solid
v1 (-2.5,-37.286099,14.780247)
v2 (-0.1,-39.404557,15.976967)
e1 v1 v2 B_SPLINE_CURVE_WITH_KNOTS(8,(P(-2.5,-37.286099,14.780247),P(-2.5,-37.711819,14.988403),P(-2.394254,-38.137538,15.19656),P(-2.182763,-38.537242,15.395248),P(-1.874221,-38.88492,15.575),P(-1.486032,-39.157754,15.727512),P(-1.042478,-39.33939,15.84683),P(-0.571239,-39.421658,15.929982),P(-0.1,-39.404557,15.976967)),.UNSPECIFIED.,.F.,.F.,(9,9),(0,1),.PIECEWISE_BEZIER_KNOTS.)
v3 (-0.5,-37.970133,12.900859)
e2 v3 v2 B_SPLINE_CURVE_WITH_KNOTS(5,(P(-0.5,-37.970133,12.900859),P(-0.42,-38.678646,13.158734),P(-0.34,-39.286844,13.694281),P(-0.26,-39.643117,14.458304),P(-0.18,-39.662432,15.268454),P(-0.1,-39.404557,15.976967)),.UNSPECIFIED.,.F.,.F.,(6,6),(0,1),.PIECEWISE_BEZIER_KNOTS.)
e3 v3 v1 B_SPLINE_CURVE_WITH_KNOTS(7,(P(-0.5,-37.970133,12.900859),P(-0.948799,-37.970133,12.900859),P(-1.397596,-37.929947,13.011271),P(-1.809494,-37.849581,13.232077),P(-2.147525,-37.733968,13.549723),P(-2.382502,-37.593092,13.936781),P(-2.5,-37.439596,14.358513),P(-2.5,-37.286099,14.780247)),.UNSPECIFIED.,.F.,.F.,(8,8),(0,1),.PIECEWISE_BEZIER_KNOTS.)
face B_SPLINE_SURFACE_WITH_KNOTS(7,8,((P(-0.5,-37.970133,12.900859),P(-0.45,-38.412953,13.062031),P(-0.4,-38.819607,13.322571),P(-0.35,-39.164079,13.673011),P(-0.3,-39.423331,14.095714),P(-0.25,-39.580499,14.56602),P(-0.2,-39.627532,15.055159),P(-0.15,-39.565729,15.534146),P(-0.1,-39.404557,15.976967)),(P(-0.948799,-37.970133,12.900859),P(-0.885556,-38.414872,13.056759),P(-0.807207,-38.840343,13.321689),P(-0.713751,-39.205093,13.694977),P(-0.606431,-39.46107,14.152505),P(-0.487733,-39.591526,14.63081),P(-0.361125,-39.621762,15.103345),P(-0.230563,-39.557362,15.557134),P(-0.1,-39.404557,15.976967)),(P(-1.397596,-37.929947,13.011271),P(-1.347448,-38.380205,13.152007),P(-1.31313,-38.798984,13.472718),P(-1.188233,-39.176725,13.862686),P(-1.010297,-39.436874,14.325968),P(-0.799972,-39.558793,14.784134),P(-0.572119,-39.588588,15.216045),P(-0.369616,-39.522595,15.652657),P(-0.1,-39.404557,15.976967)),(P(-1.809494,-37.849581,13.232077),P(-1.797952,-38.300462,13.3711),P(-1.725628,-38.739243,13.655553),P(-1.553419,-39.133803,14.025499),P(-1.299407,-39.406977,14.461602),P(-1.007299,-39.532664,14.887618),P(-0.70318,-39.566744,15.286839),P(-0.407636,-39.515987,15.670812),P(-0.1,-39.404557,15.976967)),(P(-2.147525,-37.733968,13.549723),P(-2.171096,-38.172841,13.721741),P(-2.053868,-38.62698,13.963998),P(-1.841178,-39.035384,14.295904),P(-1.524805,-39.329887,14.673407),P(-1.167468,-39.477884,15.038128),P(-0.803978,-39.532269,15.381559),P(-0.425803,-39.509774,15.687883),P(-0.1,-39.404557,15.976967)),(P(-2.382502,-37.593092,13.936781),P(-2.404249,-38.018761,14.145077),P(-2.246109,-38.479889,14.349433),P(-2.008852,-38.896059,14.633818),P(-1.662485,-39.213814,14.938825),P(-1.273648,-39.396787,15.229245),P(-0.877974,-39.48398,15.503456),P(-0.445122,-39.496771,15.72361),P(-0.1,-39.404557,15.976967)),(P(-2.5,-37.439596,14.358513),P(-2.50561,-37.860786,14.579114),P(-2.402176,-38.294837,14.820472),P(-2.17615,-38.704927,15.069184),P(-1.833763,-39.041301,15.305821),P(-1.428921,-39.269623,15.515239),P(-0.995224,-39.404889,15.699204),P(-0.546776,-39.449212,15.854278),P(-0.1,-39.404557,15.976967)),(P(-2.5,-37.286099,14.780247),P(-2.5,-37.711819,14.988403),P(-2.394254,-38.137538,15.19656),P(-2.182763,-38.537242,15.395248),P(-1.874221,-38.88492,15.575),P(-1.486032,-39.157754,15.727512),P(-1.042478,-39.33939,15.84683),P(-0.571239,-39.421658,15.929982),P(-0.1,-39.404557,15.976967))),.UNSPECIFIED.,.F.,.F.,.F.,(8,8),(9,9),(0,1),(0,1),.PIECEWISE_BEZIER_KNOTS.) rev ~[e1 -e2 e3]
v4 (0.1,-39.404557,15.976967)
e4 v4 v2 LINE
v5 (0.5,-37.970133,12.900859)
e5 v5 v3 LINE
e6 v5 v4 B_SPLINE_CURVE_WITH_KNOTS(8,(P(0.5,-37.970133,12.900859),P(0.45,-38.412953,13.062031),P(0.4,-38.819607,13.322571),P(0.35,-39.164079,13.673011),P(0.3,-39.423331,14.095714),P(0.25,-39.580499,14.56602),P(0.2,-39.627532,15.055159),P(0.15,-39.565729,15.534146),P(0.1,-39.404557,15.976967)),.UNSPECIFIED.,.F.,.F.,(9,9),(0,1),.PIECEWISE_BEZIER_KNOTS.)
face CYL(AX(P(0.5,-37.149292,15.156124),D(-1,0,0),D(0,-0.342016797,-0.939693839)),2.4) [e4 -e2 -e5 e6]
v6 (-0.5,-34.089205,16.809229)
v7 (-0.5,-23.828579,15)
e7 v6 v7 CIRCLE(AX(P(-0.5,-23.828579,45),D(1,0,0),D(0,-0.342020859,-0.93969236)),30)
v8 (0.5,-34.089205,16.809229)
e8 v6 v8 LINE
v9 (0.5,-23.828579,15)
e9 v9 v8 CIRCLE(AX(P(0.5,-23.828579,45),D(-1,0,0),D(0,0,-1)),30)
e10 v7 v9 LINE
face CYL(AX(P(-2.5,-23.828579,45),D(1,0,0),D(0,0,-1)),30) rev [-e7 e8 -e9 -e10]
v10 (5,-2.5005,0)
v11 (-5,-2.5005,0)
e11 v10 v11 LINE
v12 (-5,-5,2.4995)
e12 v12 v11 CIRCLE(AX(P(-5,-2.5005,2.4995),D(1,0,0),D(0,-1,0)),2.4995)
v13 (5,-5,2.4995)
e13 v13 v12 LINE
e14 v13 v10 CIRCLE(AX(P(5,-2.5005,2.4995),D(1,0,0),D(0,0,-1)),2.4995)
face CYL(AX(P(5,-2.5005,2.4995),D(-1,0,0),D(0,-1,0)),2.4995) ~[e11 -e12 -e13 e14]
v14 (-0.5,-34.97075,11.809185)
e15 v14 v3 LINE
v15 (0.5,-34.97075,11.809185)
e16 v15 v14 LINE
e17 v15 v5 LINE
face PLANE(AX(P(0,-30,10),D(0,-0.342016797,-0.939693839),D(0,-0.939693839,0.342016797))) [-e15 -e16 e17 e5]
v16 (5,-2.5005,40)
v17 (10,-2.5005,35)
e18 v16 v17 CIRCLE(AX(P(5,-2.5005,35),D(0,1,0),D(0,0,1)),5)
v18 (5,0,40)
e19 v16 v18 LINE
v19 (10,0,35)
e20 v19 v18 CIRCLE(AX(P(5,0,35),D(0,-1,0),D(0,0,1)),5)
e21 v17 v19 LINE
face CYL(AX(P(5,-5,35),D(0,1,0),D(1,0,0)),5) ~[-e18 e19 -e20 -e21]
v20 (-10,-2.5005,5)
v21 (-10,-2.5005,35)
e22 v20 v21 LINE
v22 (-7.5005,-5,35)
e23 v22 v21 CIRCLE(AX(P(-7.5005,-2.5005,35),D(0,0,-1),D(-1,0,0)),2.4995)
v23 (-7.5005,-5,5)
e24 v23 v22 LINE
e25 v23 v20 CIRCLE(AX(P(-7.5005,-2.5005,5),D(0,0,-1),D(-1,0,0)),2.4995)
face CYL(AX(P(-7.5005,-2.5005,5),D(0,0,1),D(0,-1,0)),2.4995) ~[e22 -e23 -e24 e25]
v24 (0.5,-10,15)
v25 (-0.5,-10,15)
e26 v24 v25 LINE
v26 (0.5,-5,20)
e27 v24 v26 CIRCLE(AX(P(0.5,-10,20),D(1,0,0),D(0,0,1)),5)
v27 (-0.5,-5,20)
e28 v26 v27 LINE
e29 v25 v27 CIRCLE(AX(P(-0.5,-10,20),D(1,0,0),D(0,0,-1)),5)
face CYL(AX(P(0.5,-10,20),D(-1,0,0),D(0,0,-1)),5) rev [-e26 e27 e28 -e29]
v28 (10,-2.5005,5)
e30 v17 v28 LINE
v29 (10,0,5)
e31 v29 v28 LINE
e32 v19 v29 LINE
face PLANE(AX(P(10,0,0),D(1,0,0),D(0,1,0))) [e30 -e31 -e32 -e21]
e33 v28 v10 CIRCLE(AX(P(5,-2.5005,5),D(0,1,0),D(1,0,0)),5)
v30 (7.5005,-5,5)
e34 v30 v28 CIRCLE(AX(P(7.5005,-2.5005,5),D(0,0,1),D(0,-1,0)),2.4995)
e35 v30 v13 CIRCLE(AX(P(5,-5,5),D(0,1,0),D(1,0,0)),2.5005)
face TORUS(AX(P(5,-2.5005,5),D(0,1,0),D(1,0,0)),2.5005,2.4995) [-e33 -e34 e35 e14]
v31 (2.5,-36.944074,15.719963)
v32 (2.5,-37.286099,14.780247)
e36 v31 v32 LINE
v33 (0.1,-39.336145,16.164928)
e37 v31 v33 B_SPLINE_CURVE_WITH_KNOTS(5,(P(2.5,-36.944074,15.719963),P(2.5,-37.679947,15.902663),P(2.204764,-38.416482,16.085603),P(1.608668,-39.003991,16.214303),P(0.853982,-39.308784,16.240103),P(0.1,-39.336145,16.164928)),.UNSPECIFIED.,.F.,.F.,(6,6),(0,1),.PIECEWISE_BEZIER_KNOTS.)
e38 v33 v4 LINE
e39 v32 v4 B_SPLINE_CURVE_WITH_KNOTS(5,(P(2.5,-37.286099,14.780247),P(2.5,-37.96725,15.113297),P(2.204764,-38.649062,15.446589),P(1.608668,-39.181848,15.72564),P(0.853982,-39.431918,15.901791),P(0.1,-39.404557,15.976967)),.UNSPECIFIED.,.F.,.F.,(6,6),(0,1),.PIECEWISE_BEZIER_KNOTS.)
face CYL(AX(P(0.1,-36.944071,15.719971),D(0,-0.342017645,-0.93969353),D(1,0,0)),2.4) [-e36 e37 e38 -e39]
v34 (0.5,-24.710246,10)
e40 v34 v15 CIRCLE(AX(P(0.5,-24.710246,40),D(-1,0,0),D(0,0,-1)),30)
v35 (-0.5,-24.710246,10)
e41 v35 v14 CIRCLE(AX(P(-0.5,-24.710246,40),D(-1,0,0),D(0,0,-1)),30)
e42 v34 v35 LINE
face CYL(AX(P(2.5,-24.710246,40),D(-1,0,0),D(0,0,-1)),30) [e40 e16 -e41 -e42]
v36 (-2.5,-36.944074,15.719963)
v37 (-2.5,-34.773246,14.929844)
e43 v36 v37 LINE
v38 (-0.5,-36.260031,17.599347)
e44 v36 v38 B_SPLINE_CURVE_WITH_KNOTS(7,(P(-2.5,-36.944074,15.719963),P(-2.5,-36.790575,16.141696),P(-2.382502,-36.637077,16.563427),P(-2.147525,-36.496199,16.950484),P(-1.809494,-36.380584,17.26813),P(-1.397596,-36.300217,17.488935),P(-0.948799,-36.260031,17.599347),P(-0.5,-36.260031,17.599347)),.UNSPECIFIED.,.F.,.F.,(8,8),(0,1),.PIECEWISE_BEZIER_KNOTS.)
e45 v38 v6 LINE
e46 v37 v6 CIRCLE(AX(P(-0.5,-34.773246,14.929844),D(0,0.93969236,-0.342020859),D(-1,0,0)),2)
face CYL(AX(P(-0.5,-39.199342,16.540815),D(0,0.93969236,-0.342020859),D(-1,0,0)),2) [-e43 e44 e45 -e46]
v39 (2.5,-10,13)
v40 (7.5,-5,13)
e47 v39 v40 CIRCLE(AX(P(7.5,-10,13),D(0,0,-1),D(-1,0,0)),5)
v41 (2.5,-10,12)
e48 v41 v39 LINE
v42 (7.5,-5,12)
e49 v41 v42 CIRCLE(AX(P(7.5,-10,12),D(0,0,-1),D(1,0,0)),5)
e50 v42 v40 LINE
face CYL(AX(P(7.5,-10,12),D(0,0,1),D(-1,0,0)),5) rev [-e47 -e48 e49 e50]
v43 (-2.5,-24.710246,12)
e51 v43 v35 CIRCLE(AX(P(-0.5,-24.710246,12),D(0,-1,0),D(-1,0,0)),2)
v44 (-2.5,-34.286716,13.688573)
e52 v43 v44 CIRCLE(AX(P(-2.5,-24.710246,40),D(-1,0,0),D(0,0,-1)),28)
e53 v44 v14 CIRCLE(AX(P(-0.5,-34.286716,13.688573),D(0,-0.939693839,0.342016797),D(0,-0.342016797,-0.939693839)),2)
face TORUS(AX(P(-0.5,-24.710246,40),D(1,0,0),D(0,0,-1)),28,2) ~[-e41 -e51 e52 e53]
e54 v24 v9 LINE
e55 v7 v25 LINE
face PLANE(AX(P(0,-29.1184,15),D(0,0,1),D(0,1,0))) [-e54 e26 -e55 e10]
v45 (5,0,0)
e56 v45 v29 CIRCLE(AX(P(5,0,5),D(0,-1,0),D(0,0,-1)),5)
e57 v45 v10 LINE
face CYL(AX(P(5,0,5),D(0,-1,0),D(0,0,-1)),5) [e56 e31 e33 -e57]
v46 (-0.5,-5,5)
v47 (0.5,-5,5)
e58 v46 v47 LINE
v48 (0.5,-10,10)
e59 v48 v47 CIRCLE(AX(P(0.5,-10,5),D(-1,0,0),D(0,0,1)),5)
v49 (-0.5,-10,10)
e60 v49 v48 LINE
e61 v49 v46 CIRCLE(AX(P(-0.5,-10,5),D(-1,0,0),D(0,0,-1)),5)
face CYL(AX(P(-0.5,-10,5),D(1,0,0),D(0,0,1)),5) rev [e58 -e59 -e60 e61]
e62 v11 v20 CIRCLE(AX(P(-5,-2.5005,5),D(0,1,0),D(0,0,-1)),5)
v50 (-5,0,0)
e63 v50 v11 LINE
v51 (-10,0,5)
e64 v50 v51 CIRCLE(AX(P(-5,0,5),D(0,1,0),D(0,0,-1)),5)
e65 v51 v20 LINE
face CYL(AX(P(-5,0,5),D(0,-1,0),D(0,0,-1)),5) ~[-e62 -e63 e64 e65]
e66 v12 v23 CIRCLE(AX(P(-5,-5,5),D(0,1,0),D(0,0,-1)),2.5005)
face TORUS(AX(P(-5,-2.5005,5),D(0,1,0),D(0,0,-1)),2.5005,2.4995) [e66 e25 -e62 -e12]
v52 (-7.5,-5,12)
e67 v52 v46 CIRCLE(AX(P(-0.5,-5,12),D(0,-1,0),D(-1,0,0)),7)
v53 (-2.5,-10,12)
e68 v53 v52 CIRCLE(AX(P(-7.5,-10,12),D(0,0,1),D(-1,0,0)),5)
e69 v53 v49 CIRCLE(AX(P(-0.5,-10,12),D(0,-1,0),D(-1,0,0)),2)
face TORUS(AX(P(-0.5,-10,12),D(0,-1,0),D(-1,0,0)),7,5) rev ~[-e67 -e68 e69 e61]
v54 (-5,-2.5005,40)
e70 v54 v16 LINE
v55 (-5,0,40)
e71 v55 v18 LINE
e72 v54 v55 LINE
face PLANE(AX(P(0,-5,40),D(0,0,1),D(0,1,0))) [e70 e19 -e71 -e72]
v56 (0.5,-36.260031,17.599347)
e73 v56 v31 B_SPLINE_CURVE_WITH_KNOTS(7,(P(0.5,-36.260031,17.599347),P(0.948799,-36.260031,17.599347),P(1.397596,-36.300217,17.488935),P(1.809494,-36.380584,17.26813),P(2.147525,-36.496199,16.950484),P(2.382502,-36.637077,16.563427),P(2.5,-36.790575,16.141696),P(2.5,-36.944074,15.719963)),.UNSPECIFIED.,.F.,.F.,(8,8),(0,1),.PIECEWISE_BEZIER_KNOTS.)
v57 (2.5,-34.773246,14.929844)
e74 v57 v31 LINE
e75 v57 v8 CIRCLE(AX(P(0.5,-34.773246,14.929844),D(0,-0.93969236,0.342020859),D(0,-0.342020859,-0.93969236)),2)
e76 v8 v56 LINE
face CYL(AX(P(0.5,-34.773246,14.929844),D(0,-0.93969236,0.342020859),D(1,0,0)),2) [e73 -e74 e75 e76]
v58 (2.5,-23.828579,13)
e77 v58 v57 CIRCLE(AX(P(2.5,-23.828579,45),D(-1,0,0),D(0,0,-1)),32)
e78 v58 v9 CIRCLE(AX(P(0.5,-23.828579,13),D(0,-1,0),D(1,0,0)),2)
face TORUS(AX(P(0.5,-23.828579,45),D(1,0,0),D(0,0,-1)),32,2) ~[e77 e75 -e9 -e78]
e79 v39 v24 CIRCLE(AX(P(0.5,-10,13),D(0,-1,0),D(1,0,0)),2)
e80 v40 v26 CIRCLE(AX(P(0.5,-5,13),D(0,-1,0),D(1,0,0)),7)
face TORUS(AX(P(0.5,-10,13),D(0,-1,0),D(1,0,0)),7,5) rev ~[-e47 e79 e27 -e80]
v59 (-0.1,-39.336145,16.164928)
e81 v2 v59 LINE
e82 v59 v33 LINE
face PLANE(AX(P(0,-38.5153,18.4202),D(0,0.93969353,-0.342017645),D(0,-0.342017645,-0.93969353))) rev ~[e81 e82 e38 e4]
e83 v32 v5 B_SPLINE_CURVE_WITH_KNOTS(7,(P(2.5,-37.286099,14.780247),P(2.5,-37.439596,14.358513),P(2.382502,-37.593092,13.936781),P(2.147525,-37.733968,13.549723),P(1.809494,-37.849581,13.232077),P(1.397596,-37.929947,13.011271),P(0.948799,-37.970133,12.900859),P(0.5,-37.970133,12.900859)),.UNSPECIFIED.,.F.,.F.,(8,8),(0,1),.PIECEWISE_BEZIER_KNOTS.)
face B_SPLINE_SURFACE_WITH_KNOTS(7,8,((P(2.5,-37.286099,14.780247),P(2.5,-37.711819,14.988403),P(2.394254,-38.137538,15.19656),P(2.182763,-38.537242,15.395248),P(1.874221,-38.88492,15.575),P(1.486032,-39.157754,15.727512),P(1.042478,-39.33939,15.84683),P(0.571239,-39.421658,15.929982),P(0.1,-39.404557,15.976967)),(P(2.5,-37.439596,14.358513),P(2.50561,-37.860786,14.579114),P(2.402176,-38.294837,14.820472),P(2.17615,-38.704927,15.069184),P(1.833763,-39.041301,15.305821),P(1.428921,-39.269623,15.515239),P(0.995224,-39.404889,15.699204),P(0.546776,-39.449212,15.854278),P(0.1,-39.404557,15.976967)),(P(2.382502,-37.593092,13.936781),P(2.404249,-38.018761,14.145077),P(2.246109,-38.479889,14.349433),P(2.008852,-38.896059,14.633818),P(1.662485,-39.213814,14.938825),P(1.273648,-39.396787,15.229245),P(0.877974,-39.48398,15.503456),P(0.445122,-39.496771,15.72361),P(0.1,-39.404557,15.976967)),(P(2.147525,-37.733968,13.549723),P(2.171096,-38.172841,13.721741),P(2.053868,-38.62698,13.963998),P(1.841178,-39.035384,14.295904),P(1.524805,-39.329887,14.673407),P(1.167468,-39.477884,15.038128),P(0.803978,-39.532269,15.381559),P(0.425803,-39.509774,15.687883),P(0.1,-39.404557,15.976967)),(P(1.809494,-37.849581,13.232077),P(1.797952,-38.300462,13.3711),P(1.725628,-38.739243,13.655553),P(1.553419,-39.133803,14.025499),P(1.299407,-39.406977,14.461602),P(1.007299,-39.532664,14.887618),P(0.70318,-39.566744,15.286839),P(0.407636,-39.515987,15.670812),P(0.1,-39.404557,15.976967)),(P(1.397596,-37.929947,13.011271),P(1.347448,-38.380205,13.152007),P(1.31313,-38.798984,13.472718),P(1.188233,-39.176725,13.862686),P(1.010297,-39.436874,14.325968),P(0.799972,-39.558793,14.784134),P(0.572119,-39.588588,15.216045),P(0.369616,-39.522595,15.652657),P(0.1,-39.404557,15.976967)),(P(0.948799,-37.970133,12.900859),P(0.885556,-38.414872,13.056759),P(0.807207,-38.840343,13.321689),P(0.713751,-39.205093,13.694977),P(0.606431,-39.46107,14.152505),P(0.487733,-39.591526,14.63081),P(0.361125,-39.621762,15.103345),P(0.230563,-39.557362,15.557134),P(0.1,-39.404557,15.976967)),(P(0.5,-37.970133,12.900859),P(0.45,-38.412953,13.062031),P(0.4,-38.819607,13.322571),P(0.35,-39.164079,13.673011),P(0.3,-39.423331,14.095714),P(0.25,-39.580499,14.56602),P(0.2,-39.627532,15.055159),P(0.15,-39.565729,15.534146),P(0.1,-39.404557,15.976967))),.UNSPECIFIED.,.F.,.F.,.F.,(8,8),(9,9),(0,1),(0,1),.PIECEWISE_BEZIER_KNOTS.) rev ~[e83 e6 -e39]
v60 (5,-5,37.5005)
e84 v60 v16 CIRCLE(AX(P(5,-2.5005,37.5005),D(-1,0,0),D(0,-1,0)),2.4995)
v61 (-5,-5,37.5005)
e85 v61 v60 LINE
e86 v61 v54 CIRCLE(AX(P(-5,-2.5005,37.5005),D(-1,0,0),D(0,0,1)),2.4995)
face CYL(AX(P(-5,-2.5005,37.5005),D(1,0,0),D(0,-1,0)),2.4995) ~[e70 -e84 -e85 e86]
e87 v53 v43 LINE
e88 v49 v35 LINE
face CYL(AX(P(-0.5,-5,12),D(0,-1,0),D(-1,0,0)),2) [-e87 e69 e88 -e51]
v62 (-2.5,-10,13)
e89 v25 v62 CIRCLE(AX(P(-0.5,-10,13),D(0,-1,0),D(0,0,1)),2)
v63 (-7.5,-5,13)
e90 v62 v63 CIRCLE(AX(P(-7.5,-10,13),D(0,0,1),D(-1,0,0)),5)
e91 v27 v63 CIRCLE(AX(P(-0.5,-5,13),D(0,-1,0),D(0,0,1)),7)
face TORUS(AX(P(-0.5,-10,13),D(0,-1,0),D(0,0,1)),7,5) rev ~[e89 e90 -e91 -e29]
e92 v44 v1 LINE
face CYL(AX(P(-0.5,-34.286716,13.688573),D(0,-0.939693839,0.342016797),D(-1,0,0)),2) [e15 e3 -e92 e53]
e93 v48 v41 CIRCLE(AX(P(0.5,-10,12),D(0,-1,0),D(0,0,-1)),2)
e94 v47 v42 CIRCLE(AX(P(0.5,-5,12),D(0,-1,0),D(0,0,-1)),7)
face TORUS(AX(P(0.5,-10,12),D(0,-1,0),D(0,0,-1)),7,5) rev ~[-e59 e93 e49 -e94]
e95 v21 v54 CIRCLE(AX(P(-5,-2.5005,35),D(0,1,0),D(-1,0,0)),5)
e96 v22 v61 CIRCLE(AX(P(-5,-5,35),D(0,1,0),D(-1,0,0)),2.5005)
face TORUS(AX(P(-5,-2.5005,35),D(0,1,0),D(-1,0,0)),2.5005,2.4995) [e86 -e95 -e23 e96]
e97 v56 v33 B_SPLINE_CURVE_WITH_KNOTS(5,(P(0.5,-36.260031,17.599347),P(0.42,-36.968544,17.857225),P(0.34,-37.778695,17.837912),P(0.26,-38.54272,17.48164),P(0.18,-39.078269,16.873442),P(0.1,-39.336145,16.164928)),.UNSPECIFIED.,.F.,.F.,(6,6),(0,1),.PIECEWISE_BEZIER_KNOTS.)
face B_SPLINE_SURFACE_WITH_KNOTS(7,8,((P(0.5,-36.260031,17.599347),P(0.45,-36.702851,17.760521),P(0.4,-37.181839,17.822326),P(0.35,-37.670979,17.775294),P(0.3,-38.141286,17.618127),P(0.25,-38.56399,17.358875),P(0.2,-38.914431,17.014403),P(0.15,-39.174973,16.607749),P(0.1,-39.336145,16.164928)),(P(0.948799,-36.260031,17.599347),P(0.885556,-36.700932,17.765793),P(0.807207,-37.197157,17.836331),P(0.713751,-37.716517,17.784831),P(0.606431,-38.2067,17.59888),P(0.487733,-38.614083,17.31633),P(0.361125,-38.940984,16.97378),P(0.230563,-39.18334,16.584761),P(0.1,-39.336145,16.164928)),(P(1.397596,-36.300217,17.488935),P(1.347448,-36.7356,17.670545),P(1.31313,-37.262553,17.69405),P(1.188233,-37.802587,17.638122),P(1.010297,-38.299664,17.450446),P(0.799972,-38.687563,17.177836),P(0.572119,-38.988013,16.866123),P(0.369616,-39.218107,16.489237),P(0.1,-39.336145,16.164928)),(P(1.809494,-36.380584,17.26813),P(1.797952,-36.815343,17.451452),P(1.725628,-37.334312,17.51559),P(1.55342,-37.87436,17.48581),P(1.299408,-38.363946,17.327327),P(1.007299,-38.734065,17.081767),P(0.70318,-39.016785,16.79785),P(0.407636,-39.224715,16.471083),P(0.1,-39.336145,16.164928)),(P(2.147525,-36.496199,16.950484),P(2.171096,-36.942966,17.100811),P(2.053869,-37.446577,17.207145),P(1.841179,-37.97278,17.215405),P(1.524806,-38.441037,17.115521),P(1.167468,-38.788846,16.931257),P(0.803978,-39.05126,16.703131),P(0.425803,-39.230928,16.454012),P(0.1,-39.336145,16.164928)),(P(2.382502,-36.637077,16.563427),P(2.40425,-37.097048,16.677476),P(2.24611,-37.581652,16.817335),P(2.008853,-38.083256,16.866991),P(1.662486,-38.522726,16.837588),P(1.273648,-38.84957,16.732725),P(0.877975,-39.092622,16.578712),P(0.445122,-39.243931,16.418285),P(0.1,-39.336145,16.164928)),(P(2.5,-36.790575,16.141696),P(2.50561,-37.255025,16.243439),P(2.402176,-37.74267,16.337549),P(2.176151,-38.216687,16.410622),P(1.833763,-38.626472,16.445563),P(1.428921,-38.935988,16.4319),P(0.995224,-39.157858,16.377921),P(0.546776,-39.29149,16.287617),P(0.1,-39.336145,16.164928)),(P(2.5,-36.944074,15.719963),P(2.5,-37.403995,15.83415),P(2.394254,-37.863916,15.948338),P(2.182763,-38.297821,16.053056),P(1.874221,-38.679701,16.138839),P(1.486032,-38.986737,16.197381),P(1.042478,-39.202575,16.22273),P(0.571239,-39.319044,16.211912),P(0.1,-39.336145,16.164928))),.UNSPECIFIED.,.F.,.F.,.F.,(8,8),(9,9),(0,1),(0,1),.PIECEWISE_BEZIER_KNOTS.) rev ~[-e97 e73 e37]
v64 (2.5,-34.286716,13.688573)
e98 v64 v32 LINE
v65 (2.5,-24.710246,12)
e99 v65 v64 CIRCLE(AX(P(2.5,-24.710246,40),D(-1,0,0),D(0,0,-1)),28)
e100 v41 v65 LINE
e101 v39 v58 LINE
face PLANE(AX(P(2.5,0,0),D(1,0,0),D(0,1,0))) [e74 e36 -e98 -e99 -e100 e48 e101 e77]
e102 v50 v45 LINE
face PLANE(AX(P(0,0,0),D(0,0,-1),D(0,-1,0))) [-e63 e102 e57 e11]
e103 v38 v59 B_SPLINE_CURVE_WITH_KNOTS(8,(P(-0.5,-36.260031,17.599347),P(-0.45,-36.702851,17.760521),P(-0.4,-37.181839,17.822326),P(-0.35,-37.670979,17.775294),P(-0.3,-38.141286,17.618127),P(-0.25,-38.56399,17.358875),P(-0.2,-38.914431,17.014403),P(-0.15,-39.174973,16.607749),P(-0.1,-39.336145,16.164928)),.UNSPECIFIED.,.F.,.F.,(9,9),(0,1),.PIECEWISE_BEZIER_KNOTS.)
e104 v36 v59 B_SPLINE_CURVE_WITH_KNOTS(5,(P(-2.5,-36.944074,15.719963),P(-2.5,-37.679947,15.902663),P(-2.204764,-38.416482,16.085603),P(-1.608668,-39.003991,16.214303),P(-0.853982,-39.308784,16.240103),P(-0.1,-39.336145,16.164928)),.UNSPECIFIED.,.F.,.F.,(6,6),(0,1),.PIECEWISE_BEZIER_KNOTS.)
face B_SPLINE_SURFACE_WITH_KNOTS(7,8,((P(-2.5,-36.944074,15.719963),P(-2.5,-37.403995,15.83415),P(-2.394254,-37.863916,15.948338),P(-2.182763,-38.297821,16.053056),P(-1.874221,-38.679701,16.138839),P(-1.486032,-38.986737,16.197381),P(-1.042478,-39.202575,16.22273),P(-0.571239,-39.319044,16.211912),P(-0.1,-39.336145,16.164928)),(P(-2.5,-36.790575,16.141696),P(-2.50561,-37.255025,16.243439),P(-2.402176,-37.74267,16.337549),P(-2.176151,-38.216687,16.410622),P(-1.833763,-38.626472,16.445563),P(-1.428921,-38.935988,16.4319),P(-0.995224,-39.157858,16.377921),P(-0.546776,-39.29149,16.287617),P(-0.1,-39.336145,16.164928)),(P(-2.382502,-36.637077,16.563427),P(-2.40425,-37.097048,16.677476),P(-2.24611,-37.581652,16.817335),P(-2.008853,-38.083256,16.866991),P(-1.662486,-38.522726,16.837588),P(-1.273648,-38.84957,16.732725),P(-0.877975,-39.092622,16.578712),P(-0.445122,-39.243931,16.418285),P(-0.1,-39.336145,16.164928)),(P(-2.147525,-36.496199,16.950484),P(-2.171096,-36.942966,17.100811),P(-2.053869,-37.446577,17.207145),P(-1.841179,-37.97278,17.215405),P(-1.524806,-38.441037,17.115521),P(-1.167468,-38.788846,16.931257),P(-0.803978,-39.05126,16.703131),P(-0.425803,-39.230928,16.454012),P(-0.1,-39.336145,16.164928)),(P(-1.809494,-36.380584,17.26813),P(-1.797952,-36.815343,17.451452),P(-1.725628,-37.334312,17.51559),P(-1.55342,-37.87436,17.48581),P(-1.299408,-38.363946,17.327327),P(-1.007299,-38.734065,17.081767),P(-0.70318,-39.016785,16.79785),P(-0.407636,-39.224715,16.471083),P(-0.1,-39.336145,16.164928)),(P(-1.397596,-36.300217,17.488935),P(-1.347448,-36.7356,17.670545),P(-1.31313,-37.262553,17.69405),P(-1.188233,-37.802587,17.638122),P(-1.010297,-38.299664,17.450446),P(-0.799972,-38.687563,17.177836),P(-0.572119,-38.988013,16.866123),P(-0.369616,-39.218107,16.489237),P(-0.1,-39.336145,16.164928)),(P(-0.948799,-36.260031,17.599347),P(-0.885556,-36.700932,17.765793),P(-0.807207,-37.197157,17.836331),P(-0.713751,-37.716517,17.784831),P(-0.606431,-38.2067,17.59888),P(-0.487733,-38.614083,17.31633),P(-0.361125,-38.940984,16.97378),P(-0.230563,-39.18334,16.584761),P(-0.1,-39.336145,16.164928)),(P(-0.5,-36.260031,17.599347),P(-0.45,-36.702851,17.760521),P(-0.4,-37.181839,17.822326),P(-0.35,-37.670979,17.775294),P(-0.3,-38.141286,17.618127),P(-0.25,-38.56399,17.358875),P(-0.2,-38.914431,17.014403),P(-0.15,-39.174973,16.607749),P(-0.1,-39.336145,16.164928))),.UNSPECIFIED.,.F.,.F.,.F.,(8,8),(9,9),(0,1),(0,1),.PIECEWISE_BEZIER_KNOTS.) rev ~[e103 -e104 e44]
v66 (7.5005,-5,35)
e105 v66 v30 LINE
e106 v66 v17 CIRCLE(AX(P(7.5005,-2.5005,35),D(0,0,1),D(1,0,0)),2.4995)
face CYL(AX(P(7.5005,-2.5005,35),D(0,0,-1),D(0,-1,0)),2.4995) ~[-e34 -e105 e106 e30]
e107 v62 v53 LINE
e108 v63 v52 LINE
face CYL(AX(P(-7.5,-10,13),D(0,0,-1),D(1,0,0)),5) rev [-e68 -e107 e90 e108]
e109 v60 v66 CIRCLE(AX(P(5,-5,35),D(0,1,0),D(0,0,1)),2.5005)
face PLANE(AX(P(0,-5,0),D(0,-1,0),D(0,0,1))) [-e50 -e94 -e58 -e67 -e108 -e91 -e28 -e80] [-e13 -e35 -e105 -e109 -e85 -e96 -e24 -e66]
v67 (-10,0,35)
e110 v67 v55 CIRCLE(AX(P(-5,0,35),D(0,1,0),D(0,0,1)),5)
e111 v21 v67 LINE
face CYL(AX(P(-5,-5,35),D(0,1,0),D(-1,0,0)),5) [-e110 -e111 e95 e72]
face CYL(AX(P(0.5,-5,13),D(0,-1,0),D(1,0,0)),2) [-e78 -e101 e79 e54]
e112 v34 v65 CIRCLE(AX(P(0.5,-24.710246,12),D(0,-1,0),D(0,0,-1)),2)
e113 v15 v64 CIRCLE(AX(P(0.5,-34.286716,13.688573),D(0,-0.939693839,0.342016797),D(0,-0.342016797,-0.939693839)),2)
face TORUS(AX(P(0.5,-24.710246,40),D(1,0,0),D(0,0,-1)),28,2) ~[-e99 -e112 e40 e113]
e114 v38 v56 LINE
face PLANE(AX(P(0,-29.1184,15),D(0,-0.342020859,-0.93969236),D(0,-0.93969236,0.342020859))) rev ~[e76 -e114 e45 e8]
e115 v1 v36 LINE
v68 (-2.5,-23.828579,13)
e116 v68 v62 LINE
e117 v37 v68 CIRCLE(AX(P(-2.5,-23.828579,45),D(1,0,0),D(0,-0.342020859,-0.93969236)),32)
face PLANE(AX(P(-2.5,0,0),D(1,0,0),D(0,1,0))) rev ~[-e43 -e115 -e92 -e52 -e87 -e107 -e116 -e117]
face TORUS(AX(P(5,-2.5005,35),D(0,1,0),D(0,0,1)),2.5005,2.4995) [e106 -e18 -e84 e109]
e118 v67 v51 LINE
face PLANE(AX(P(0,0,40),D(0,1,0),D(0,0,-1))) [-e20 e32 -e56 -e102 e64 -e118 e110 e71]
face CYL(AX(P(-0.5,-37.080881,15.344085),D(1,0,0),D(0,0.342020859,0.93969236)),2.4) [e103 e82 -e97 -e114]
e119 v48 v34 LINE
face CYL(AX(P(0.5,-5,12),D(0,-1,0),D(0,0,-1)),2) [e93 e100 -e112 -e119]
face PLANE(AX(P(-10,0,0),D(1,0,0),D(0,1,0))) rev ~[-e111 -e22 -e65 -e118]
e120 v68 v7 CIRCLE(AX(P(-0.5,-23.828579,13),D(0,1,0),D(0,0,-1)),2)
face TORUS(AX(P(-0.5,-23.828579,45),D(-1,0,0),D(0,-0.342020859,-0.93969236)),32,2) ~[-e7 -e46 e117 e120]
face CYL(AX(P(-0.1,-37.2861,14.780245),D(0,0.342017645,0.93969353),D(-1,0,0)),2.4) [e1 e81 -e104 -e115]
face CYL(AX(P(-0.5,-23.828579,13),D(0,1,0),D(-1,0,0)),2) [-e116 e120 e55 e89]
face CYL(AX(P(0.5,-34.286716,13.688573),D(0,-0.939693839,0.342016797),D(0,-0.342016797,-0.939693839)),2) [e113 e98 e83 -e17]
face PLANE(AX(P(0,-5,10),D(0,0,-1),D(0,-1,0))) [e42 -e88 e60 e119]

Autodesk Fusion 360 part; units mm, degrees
sketch "Sketch1" plane through (0, 0, 0) normal (1, 0, 0) x (0, 1, 0) in component "Main"
  line L0 (0, 0) -> (-5, 0)
  line L1 (-5, 0) -> (-5, 10)
  line L2 (-5, 10) -> (-30, 10)
  line L3 (-29.1184, 15) -> (-5, 15)
  line L4 (-5, 15) -> (-5, 40)
  line L5 (-5, 40) -> (0, 40)
  line L6 (0, 40) -> (0, 0)
  line L7 (-29.1184, 15) -> (-38.5153, 18.4202)
  line L8 (-30, 10) -> (-40.2254, 13.7217)
  line L9 (-38.5153, 18.4202) -> (-40.2254, 13.7217)
  line L10 (-5, 15) -> (-5, 10)
  dimension "d1" = 5
  dimension "d3" = 40
  dimension "d4" = 10
  dimension "d5" = 5
  dimension "d6" = 5
  dimension "d7" = 160
  dimension "d8" = 25
  dimension "d9" = 10
extrude "Extrude1" add sketch "Sketch1" along normal mid plane 5 contours L2 L3 L7 L8 L9 L10 in component "Main"
extrude "Extrude2" add sketch "Sketch1" along normal mid plane 20 contours L0 L1 L4 L5 L6 L10 in component "Main"
fillet "Fillet4" radius 30 2 edges at (0, -29.1184, 15) (0, -30, 10) in component "Main"
fillet "Fillet5" radius 2 12 edges at (-2.5, -14.4143, 15) (-2.5, -29.038, 15.4558) (-2.5, -36.3022, 17.6147) (2.5, -36.3022, 17.6147) (2.5, -29.038, 15.4558) (2.5, -14.4143, 15) (2.5, -14.8551, 10) (2.5, -29.9196, 10.4558) (2.5, -37.5981, 12.7655) (-2.5, -37.5981, 12.7655) (-2.5, -29.9196, 10.4558) (-2.5, -14.8551, 10) in component "Main"
fillet "Fillet6" radius 5 8 edges at (-1.9142, -5, 10.5858) (0, -5, 10) (1.9142, -5, 10.5858) (2.5, -5, 12.5) (1.9142, -5, 14.4142) (0, -5, 15) (-1.9142, -5, 14.4142) (-2.5, -5, 12.5) in component "Main"
fillet "Fillet7" radius 5 4 edges at (-10, -2.5, 40) (10, -2.5, 40) (10, -2.5, 0) (-10, -2.5, 0) in component "Main"
fillet "Fillet8" radius 2.5 8 edges at (-8.5355, -5, 38.5355) (-10, -5, 20) (-8.5355, -5, 1.4645) (0, -5, 0) (8.5355, -5, 1.4645) (10, -5, 20) (8.5355, -5, 38.5355) (0, -5, 40) in component "Main"
fillet "Fillet9" radius 2.4 8 edges at (2.5, -39.3703, 16.071) (1.9142, -40.025, 14.2722) (0, -40.2254, 13.7217) (-1.9142, -40.025, 14.2722) (-2.5, -39.3703, 16.071) (-1.9142, -38.7156, 17.8697) (0, -38.5153, 18.4202) (1.9142, -38.7156, 17.8697) in component "Main"
component "Main" placed x (1, 0, 0) y (0, 1, 0) z (0, 0, 1) at (0, 0, 0)
